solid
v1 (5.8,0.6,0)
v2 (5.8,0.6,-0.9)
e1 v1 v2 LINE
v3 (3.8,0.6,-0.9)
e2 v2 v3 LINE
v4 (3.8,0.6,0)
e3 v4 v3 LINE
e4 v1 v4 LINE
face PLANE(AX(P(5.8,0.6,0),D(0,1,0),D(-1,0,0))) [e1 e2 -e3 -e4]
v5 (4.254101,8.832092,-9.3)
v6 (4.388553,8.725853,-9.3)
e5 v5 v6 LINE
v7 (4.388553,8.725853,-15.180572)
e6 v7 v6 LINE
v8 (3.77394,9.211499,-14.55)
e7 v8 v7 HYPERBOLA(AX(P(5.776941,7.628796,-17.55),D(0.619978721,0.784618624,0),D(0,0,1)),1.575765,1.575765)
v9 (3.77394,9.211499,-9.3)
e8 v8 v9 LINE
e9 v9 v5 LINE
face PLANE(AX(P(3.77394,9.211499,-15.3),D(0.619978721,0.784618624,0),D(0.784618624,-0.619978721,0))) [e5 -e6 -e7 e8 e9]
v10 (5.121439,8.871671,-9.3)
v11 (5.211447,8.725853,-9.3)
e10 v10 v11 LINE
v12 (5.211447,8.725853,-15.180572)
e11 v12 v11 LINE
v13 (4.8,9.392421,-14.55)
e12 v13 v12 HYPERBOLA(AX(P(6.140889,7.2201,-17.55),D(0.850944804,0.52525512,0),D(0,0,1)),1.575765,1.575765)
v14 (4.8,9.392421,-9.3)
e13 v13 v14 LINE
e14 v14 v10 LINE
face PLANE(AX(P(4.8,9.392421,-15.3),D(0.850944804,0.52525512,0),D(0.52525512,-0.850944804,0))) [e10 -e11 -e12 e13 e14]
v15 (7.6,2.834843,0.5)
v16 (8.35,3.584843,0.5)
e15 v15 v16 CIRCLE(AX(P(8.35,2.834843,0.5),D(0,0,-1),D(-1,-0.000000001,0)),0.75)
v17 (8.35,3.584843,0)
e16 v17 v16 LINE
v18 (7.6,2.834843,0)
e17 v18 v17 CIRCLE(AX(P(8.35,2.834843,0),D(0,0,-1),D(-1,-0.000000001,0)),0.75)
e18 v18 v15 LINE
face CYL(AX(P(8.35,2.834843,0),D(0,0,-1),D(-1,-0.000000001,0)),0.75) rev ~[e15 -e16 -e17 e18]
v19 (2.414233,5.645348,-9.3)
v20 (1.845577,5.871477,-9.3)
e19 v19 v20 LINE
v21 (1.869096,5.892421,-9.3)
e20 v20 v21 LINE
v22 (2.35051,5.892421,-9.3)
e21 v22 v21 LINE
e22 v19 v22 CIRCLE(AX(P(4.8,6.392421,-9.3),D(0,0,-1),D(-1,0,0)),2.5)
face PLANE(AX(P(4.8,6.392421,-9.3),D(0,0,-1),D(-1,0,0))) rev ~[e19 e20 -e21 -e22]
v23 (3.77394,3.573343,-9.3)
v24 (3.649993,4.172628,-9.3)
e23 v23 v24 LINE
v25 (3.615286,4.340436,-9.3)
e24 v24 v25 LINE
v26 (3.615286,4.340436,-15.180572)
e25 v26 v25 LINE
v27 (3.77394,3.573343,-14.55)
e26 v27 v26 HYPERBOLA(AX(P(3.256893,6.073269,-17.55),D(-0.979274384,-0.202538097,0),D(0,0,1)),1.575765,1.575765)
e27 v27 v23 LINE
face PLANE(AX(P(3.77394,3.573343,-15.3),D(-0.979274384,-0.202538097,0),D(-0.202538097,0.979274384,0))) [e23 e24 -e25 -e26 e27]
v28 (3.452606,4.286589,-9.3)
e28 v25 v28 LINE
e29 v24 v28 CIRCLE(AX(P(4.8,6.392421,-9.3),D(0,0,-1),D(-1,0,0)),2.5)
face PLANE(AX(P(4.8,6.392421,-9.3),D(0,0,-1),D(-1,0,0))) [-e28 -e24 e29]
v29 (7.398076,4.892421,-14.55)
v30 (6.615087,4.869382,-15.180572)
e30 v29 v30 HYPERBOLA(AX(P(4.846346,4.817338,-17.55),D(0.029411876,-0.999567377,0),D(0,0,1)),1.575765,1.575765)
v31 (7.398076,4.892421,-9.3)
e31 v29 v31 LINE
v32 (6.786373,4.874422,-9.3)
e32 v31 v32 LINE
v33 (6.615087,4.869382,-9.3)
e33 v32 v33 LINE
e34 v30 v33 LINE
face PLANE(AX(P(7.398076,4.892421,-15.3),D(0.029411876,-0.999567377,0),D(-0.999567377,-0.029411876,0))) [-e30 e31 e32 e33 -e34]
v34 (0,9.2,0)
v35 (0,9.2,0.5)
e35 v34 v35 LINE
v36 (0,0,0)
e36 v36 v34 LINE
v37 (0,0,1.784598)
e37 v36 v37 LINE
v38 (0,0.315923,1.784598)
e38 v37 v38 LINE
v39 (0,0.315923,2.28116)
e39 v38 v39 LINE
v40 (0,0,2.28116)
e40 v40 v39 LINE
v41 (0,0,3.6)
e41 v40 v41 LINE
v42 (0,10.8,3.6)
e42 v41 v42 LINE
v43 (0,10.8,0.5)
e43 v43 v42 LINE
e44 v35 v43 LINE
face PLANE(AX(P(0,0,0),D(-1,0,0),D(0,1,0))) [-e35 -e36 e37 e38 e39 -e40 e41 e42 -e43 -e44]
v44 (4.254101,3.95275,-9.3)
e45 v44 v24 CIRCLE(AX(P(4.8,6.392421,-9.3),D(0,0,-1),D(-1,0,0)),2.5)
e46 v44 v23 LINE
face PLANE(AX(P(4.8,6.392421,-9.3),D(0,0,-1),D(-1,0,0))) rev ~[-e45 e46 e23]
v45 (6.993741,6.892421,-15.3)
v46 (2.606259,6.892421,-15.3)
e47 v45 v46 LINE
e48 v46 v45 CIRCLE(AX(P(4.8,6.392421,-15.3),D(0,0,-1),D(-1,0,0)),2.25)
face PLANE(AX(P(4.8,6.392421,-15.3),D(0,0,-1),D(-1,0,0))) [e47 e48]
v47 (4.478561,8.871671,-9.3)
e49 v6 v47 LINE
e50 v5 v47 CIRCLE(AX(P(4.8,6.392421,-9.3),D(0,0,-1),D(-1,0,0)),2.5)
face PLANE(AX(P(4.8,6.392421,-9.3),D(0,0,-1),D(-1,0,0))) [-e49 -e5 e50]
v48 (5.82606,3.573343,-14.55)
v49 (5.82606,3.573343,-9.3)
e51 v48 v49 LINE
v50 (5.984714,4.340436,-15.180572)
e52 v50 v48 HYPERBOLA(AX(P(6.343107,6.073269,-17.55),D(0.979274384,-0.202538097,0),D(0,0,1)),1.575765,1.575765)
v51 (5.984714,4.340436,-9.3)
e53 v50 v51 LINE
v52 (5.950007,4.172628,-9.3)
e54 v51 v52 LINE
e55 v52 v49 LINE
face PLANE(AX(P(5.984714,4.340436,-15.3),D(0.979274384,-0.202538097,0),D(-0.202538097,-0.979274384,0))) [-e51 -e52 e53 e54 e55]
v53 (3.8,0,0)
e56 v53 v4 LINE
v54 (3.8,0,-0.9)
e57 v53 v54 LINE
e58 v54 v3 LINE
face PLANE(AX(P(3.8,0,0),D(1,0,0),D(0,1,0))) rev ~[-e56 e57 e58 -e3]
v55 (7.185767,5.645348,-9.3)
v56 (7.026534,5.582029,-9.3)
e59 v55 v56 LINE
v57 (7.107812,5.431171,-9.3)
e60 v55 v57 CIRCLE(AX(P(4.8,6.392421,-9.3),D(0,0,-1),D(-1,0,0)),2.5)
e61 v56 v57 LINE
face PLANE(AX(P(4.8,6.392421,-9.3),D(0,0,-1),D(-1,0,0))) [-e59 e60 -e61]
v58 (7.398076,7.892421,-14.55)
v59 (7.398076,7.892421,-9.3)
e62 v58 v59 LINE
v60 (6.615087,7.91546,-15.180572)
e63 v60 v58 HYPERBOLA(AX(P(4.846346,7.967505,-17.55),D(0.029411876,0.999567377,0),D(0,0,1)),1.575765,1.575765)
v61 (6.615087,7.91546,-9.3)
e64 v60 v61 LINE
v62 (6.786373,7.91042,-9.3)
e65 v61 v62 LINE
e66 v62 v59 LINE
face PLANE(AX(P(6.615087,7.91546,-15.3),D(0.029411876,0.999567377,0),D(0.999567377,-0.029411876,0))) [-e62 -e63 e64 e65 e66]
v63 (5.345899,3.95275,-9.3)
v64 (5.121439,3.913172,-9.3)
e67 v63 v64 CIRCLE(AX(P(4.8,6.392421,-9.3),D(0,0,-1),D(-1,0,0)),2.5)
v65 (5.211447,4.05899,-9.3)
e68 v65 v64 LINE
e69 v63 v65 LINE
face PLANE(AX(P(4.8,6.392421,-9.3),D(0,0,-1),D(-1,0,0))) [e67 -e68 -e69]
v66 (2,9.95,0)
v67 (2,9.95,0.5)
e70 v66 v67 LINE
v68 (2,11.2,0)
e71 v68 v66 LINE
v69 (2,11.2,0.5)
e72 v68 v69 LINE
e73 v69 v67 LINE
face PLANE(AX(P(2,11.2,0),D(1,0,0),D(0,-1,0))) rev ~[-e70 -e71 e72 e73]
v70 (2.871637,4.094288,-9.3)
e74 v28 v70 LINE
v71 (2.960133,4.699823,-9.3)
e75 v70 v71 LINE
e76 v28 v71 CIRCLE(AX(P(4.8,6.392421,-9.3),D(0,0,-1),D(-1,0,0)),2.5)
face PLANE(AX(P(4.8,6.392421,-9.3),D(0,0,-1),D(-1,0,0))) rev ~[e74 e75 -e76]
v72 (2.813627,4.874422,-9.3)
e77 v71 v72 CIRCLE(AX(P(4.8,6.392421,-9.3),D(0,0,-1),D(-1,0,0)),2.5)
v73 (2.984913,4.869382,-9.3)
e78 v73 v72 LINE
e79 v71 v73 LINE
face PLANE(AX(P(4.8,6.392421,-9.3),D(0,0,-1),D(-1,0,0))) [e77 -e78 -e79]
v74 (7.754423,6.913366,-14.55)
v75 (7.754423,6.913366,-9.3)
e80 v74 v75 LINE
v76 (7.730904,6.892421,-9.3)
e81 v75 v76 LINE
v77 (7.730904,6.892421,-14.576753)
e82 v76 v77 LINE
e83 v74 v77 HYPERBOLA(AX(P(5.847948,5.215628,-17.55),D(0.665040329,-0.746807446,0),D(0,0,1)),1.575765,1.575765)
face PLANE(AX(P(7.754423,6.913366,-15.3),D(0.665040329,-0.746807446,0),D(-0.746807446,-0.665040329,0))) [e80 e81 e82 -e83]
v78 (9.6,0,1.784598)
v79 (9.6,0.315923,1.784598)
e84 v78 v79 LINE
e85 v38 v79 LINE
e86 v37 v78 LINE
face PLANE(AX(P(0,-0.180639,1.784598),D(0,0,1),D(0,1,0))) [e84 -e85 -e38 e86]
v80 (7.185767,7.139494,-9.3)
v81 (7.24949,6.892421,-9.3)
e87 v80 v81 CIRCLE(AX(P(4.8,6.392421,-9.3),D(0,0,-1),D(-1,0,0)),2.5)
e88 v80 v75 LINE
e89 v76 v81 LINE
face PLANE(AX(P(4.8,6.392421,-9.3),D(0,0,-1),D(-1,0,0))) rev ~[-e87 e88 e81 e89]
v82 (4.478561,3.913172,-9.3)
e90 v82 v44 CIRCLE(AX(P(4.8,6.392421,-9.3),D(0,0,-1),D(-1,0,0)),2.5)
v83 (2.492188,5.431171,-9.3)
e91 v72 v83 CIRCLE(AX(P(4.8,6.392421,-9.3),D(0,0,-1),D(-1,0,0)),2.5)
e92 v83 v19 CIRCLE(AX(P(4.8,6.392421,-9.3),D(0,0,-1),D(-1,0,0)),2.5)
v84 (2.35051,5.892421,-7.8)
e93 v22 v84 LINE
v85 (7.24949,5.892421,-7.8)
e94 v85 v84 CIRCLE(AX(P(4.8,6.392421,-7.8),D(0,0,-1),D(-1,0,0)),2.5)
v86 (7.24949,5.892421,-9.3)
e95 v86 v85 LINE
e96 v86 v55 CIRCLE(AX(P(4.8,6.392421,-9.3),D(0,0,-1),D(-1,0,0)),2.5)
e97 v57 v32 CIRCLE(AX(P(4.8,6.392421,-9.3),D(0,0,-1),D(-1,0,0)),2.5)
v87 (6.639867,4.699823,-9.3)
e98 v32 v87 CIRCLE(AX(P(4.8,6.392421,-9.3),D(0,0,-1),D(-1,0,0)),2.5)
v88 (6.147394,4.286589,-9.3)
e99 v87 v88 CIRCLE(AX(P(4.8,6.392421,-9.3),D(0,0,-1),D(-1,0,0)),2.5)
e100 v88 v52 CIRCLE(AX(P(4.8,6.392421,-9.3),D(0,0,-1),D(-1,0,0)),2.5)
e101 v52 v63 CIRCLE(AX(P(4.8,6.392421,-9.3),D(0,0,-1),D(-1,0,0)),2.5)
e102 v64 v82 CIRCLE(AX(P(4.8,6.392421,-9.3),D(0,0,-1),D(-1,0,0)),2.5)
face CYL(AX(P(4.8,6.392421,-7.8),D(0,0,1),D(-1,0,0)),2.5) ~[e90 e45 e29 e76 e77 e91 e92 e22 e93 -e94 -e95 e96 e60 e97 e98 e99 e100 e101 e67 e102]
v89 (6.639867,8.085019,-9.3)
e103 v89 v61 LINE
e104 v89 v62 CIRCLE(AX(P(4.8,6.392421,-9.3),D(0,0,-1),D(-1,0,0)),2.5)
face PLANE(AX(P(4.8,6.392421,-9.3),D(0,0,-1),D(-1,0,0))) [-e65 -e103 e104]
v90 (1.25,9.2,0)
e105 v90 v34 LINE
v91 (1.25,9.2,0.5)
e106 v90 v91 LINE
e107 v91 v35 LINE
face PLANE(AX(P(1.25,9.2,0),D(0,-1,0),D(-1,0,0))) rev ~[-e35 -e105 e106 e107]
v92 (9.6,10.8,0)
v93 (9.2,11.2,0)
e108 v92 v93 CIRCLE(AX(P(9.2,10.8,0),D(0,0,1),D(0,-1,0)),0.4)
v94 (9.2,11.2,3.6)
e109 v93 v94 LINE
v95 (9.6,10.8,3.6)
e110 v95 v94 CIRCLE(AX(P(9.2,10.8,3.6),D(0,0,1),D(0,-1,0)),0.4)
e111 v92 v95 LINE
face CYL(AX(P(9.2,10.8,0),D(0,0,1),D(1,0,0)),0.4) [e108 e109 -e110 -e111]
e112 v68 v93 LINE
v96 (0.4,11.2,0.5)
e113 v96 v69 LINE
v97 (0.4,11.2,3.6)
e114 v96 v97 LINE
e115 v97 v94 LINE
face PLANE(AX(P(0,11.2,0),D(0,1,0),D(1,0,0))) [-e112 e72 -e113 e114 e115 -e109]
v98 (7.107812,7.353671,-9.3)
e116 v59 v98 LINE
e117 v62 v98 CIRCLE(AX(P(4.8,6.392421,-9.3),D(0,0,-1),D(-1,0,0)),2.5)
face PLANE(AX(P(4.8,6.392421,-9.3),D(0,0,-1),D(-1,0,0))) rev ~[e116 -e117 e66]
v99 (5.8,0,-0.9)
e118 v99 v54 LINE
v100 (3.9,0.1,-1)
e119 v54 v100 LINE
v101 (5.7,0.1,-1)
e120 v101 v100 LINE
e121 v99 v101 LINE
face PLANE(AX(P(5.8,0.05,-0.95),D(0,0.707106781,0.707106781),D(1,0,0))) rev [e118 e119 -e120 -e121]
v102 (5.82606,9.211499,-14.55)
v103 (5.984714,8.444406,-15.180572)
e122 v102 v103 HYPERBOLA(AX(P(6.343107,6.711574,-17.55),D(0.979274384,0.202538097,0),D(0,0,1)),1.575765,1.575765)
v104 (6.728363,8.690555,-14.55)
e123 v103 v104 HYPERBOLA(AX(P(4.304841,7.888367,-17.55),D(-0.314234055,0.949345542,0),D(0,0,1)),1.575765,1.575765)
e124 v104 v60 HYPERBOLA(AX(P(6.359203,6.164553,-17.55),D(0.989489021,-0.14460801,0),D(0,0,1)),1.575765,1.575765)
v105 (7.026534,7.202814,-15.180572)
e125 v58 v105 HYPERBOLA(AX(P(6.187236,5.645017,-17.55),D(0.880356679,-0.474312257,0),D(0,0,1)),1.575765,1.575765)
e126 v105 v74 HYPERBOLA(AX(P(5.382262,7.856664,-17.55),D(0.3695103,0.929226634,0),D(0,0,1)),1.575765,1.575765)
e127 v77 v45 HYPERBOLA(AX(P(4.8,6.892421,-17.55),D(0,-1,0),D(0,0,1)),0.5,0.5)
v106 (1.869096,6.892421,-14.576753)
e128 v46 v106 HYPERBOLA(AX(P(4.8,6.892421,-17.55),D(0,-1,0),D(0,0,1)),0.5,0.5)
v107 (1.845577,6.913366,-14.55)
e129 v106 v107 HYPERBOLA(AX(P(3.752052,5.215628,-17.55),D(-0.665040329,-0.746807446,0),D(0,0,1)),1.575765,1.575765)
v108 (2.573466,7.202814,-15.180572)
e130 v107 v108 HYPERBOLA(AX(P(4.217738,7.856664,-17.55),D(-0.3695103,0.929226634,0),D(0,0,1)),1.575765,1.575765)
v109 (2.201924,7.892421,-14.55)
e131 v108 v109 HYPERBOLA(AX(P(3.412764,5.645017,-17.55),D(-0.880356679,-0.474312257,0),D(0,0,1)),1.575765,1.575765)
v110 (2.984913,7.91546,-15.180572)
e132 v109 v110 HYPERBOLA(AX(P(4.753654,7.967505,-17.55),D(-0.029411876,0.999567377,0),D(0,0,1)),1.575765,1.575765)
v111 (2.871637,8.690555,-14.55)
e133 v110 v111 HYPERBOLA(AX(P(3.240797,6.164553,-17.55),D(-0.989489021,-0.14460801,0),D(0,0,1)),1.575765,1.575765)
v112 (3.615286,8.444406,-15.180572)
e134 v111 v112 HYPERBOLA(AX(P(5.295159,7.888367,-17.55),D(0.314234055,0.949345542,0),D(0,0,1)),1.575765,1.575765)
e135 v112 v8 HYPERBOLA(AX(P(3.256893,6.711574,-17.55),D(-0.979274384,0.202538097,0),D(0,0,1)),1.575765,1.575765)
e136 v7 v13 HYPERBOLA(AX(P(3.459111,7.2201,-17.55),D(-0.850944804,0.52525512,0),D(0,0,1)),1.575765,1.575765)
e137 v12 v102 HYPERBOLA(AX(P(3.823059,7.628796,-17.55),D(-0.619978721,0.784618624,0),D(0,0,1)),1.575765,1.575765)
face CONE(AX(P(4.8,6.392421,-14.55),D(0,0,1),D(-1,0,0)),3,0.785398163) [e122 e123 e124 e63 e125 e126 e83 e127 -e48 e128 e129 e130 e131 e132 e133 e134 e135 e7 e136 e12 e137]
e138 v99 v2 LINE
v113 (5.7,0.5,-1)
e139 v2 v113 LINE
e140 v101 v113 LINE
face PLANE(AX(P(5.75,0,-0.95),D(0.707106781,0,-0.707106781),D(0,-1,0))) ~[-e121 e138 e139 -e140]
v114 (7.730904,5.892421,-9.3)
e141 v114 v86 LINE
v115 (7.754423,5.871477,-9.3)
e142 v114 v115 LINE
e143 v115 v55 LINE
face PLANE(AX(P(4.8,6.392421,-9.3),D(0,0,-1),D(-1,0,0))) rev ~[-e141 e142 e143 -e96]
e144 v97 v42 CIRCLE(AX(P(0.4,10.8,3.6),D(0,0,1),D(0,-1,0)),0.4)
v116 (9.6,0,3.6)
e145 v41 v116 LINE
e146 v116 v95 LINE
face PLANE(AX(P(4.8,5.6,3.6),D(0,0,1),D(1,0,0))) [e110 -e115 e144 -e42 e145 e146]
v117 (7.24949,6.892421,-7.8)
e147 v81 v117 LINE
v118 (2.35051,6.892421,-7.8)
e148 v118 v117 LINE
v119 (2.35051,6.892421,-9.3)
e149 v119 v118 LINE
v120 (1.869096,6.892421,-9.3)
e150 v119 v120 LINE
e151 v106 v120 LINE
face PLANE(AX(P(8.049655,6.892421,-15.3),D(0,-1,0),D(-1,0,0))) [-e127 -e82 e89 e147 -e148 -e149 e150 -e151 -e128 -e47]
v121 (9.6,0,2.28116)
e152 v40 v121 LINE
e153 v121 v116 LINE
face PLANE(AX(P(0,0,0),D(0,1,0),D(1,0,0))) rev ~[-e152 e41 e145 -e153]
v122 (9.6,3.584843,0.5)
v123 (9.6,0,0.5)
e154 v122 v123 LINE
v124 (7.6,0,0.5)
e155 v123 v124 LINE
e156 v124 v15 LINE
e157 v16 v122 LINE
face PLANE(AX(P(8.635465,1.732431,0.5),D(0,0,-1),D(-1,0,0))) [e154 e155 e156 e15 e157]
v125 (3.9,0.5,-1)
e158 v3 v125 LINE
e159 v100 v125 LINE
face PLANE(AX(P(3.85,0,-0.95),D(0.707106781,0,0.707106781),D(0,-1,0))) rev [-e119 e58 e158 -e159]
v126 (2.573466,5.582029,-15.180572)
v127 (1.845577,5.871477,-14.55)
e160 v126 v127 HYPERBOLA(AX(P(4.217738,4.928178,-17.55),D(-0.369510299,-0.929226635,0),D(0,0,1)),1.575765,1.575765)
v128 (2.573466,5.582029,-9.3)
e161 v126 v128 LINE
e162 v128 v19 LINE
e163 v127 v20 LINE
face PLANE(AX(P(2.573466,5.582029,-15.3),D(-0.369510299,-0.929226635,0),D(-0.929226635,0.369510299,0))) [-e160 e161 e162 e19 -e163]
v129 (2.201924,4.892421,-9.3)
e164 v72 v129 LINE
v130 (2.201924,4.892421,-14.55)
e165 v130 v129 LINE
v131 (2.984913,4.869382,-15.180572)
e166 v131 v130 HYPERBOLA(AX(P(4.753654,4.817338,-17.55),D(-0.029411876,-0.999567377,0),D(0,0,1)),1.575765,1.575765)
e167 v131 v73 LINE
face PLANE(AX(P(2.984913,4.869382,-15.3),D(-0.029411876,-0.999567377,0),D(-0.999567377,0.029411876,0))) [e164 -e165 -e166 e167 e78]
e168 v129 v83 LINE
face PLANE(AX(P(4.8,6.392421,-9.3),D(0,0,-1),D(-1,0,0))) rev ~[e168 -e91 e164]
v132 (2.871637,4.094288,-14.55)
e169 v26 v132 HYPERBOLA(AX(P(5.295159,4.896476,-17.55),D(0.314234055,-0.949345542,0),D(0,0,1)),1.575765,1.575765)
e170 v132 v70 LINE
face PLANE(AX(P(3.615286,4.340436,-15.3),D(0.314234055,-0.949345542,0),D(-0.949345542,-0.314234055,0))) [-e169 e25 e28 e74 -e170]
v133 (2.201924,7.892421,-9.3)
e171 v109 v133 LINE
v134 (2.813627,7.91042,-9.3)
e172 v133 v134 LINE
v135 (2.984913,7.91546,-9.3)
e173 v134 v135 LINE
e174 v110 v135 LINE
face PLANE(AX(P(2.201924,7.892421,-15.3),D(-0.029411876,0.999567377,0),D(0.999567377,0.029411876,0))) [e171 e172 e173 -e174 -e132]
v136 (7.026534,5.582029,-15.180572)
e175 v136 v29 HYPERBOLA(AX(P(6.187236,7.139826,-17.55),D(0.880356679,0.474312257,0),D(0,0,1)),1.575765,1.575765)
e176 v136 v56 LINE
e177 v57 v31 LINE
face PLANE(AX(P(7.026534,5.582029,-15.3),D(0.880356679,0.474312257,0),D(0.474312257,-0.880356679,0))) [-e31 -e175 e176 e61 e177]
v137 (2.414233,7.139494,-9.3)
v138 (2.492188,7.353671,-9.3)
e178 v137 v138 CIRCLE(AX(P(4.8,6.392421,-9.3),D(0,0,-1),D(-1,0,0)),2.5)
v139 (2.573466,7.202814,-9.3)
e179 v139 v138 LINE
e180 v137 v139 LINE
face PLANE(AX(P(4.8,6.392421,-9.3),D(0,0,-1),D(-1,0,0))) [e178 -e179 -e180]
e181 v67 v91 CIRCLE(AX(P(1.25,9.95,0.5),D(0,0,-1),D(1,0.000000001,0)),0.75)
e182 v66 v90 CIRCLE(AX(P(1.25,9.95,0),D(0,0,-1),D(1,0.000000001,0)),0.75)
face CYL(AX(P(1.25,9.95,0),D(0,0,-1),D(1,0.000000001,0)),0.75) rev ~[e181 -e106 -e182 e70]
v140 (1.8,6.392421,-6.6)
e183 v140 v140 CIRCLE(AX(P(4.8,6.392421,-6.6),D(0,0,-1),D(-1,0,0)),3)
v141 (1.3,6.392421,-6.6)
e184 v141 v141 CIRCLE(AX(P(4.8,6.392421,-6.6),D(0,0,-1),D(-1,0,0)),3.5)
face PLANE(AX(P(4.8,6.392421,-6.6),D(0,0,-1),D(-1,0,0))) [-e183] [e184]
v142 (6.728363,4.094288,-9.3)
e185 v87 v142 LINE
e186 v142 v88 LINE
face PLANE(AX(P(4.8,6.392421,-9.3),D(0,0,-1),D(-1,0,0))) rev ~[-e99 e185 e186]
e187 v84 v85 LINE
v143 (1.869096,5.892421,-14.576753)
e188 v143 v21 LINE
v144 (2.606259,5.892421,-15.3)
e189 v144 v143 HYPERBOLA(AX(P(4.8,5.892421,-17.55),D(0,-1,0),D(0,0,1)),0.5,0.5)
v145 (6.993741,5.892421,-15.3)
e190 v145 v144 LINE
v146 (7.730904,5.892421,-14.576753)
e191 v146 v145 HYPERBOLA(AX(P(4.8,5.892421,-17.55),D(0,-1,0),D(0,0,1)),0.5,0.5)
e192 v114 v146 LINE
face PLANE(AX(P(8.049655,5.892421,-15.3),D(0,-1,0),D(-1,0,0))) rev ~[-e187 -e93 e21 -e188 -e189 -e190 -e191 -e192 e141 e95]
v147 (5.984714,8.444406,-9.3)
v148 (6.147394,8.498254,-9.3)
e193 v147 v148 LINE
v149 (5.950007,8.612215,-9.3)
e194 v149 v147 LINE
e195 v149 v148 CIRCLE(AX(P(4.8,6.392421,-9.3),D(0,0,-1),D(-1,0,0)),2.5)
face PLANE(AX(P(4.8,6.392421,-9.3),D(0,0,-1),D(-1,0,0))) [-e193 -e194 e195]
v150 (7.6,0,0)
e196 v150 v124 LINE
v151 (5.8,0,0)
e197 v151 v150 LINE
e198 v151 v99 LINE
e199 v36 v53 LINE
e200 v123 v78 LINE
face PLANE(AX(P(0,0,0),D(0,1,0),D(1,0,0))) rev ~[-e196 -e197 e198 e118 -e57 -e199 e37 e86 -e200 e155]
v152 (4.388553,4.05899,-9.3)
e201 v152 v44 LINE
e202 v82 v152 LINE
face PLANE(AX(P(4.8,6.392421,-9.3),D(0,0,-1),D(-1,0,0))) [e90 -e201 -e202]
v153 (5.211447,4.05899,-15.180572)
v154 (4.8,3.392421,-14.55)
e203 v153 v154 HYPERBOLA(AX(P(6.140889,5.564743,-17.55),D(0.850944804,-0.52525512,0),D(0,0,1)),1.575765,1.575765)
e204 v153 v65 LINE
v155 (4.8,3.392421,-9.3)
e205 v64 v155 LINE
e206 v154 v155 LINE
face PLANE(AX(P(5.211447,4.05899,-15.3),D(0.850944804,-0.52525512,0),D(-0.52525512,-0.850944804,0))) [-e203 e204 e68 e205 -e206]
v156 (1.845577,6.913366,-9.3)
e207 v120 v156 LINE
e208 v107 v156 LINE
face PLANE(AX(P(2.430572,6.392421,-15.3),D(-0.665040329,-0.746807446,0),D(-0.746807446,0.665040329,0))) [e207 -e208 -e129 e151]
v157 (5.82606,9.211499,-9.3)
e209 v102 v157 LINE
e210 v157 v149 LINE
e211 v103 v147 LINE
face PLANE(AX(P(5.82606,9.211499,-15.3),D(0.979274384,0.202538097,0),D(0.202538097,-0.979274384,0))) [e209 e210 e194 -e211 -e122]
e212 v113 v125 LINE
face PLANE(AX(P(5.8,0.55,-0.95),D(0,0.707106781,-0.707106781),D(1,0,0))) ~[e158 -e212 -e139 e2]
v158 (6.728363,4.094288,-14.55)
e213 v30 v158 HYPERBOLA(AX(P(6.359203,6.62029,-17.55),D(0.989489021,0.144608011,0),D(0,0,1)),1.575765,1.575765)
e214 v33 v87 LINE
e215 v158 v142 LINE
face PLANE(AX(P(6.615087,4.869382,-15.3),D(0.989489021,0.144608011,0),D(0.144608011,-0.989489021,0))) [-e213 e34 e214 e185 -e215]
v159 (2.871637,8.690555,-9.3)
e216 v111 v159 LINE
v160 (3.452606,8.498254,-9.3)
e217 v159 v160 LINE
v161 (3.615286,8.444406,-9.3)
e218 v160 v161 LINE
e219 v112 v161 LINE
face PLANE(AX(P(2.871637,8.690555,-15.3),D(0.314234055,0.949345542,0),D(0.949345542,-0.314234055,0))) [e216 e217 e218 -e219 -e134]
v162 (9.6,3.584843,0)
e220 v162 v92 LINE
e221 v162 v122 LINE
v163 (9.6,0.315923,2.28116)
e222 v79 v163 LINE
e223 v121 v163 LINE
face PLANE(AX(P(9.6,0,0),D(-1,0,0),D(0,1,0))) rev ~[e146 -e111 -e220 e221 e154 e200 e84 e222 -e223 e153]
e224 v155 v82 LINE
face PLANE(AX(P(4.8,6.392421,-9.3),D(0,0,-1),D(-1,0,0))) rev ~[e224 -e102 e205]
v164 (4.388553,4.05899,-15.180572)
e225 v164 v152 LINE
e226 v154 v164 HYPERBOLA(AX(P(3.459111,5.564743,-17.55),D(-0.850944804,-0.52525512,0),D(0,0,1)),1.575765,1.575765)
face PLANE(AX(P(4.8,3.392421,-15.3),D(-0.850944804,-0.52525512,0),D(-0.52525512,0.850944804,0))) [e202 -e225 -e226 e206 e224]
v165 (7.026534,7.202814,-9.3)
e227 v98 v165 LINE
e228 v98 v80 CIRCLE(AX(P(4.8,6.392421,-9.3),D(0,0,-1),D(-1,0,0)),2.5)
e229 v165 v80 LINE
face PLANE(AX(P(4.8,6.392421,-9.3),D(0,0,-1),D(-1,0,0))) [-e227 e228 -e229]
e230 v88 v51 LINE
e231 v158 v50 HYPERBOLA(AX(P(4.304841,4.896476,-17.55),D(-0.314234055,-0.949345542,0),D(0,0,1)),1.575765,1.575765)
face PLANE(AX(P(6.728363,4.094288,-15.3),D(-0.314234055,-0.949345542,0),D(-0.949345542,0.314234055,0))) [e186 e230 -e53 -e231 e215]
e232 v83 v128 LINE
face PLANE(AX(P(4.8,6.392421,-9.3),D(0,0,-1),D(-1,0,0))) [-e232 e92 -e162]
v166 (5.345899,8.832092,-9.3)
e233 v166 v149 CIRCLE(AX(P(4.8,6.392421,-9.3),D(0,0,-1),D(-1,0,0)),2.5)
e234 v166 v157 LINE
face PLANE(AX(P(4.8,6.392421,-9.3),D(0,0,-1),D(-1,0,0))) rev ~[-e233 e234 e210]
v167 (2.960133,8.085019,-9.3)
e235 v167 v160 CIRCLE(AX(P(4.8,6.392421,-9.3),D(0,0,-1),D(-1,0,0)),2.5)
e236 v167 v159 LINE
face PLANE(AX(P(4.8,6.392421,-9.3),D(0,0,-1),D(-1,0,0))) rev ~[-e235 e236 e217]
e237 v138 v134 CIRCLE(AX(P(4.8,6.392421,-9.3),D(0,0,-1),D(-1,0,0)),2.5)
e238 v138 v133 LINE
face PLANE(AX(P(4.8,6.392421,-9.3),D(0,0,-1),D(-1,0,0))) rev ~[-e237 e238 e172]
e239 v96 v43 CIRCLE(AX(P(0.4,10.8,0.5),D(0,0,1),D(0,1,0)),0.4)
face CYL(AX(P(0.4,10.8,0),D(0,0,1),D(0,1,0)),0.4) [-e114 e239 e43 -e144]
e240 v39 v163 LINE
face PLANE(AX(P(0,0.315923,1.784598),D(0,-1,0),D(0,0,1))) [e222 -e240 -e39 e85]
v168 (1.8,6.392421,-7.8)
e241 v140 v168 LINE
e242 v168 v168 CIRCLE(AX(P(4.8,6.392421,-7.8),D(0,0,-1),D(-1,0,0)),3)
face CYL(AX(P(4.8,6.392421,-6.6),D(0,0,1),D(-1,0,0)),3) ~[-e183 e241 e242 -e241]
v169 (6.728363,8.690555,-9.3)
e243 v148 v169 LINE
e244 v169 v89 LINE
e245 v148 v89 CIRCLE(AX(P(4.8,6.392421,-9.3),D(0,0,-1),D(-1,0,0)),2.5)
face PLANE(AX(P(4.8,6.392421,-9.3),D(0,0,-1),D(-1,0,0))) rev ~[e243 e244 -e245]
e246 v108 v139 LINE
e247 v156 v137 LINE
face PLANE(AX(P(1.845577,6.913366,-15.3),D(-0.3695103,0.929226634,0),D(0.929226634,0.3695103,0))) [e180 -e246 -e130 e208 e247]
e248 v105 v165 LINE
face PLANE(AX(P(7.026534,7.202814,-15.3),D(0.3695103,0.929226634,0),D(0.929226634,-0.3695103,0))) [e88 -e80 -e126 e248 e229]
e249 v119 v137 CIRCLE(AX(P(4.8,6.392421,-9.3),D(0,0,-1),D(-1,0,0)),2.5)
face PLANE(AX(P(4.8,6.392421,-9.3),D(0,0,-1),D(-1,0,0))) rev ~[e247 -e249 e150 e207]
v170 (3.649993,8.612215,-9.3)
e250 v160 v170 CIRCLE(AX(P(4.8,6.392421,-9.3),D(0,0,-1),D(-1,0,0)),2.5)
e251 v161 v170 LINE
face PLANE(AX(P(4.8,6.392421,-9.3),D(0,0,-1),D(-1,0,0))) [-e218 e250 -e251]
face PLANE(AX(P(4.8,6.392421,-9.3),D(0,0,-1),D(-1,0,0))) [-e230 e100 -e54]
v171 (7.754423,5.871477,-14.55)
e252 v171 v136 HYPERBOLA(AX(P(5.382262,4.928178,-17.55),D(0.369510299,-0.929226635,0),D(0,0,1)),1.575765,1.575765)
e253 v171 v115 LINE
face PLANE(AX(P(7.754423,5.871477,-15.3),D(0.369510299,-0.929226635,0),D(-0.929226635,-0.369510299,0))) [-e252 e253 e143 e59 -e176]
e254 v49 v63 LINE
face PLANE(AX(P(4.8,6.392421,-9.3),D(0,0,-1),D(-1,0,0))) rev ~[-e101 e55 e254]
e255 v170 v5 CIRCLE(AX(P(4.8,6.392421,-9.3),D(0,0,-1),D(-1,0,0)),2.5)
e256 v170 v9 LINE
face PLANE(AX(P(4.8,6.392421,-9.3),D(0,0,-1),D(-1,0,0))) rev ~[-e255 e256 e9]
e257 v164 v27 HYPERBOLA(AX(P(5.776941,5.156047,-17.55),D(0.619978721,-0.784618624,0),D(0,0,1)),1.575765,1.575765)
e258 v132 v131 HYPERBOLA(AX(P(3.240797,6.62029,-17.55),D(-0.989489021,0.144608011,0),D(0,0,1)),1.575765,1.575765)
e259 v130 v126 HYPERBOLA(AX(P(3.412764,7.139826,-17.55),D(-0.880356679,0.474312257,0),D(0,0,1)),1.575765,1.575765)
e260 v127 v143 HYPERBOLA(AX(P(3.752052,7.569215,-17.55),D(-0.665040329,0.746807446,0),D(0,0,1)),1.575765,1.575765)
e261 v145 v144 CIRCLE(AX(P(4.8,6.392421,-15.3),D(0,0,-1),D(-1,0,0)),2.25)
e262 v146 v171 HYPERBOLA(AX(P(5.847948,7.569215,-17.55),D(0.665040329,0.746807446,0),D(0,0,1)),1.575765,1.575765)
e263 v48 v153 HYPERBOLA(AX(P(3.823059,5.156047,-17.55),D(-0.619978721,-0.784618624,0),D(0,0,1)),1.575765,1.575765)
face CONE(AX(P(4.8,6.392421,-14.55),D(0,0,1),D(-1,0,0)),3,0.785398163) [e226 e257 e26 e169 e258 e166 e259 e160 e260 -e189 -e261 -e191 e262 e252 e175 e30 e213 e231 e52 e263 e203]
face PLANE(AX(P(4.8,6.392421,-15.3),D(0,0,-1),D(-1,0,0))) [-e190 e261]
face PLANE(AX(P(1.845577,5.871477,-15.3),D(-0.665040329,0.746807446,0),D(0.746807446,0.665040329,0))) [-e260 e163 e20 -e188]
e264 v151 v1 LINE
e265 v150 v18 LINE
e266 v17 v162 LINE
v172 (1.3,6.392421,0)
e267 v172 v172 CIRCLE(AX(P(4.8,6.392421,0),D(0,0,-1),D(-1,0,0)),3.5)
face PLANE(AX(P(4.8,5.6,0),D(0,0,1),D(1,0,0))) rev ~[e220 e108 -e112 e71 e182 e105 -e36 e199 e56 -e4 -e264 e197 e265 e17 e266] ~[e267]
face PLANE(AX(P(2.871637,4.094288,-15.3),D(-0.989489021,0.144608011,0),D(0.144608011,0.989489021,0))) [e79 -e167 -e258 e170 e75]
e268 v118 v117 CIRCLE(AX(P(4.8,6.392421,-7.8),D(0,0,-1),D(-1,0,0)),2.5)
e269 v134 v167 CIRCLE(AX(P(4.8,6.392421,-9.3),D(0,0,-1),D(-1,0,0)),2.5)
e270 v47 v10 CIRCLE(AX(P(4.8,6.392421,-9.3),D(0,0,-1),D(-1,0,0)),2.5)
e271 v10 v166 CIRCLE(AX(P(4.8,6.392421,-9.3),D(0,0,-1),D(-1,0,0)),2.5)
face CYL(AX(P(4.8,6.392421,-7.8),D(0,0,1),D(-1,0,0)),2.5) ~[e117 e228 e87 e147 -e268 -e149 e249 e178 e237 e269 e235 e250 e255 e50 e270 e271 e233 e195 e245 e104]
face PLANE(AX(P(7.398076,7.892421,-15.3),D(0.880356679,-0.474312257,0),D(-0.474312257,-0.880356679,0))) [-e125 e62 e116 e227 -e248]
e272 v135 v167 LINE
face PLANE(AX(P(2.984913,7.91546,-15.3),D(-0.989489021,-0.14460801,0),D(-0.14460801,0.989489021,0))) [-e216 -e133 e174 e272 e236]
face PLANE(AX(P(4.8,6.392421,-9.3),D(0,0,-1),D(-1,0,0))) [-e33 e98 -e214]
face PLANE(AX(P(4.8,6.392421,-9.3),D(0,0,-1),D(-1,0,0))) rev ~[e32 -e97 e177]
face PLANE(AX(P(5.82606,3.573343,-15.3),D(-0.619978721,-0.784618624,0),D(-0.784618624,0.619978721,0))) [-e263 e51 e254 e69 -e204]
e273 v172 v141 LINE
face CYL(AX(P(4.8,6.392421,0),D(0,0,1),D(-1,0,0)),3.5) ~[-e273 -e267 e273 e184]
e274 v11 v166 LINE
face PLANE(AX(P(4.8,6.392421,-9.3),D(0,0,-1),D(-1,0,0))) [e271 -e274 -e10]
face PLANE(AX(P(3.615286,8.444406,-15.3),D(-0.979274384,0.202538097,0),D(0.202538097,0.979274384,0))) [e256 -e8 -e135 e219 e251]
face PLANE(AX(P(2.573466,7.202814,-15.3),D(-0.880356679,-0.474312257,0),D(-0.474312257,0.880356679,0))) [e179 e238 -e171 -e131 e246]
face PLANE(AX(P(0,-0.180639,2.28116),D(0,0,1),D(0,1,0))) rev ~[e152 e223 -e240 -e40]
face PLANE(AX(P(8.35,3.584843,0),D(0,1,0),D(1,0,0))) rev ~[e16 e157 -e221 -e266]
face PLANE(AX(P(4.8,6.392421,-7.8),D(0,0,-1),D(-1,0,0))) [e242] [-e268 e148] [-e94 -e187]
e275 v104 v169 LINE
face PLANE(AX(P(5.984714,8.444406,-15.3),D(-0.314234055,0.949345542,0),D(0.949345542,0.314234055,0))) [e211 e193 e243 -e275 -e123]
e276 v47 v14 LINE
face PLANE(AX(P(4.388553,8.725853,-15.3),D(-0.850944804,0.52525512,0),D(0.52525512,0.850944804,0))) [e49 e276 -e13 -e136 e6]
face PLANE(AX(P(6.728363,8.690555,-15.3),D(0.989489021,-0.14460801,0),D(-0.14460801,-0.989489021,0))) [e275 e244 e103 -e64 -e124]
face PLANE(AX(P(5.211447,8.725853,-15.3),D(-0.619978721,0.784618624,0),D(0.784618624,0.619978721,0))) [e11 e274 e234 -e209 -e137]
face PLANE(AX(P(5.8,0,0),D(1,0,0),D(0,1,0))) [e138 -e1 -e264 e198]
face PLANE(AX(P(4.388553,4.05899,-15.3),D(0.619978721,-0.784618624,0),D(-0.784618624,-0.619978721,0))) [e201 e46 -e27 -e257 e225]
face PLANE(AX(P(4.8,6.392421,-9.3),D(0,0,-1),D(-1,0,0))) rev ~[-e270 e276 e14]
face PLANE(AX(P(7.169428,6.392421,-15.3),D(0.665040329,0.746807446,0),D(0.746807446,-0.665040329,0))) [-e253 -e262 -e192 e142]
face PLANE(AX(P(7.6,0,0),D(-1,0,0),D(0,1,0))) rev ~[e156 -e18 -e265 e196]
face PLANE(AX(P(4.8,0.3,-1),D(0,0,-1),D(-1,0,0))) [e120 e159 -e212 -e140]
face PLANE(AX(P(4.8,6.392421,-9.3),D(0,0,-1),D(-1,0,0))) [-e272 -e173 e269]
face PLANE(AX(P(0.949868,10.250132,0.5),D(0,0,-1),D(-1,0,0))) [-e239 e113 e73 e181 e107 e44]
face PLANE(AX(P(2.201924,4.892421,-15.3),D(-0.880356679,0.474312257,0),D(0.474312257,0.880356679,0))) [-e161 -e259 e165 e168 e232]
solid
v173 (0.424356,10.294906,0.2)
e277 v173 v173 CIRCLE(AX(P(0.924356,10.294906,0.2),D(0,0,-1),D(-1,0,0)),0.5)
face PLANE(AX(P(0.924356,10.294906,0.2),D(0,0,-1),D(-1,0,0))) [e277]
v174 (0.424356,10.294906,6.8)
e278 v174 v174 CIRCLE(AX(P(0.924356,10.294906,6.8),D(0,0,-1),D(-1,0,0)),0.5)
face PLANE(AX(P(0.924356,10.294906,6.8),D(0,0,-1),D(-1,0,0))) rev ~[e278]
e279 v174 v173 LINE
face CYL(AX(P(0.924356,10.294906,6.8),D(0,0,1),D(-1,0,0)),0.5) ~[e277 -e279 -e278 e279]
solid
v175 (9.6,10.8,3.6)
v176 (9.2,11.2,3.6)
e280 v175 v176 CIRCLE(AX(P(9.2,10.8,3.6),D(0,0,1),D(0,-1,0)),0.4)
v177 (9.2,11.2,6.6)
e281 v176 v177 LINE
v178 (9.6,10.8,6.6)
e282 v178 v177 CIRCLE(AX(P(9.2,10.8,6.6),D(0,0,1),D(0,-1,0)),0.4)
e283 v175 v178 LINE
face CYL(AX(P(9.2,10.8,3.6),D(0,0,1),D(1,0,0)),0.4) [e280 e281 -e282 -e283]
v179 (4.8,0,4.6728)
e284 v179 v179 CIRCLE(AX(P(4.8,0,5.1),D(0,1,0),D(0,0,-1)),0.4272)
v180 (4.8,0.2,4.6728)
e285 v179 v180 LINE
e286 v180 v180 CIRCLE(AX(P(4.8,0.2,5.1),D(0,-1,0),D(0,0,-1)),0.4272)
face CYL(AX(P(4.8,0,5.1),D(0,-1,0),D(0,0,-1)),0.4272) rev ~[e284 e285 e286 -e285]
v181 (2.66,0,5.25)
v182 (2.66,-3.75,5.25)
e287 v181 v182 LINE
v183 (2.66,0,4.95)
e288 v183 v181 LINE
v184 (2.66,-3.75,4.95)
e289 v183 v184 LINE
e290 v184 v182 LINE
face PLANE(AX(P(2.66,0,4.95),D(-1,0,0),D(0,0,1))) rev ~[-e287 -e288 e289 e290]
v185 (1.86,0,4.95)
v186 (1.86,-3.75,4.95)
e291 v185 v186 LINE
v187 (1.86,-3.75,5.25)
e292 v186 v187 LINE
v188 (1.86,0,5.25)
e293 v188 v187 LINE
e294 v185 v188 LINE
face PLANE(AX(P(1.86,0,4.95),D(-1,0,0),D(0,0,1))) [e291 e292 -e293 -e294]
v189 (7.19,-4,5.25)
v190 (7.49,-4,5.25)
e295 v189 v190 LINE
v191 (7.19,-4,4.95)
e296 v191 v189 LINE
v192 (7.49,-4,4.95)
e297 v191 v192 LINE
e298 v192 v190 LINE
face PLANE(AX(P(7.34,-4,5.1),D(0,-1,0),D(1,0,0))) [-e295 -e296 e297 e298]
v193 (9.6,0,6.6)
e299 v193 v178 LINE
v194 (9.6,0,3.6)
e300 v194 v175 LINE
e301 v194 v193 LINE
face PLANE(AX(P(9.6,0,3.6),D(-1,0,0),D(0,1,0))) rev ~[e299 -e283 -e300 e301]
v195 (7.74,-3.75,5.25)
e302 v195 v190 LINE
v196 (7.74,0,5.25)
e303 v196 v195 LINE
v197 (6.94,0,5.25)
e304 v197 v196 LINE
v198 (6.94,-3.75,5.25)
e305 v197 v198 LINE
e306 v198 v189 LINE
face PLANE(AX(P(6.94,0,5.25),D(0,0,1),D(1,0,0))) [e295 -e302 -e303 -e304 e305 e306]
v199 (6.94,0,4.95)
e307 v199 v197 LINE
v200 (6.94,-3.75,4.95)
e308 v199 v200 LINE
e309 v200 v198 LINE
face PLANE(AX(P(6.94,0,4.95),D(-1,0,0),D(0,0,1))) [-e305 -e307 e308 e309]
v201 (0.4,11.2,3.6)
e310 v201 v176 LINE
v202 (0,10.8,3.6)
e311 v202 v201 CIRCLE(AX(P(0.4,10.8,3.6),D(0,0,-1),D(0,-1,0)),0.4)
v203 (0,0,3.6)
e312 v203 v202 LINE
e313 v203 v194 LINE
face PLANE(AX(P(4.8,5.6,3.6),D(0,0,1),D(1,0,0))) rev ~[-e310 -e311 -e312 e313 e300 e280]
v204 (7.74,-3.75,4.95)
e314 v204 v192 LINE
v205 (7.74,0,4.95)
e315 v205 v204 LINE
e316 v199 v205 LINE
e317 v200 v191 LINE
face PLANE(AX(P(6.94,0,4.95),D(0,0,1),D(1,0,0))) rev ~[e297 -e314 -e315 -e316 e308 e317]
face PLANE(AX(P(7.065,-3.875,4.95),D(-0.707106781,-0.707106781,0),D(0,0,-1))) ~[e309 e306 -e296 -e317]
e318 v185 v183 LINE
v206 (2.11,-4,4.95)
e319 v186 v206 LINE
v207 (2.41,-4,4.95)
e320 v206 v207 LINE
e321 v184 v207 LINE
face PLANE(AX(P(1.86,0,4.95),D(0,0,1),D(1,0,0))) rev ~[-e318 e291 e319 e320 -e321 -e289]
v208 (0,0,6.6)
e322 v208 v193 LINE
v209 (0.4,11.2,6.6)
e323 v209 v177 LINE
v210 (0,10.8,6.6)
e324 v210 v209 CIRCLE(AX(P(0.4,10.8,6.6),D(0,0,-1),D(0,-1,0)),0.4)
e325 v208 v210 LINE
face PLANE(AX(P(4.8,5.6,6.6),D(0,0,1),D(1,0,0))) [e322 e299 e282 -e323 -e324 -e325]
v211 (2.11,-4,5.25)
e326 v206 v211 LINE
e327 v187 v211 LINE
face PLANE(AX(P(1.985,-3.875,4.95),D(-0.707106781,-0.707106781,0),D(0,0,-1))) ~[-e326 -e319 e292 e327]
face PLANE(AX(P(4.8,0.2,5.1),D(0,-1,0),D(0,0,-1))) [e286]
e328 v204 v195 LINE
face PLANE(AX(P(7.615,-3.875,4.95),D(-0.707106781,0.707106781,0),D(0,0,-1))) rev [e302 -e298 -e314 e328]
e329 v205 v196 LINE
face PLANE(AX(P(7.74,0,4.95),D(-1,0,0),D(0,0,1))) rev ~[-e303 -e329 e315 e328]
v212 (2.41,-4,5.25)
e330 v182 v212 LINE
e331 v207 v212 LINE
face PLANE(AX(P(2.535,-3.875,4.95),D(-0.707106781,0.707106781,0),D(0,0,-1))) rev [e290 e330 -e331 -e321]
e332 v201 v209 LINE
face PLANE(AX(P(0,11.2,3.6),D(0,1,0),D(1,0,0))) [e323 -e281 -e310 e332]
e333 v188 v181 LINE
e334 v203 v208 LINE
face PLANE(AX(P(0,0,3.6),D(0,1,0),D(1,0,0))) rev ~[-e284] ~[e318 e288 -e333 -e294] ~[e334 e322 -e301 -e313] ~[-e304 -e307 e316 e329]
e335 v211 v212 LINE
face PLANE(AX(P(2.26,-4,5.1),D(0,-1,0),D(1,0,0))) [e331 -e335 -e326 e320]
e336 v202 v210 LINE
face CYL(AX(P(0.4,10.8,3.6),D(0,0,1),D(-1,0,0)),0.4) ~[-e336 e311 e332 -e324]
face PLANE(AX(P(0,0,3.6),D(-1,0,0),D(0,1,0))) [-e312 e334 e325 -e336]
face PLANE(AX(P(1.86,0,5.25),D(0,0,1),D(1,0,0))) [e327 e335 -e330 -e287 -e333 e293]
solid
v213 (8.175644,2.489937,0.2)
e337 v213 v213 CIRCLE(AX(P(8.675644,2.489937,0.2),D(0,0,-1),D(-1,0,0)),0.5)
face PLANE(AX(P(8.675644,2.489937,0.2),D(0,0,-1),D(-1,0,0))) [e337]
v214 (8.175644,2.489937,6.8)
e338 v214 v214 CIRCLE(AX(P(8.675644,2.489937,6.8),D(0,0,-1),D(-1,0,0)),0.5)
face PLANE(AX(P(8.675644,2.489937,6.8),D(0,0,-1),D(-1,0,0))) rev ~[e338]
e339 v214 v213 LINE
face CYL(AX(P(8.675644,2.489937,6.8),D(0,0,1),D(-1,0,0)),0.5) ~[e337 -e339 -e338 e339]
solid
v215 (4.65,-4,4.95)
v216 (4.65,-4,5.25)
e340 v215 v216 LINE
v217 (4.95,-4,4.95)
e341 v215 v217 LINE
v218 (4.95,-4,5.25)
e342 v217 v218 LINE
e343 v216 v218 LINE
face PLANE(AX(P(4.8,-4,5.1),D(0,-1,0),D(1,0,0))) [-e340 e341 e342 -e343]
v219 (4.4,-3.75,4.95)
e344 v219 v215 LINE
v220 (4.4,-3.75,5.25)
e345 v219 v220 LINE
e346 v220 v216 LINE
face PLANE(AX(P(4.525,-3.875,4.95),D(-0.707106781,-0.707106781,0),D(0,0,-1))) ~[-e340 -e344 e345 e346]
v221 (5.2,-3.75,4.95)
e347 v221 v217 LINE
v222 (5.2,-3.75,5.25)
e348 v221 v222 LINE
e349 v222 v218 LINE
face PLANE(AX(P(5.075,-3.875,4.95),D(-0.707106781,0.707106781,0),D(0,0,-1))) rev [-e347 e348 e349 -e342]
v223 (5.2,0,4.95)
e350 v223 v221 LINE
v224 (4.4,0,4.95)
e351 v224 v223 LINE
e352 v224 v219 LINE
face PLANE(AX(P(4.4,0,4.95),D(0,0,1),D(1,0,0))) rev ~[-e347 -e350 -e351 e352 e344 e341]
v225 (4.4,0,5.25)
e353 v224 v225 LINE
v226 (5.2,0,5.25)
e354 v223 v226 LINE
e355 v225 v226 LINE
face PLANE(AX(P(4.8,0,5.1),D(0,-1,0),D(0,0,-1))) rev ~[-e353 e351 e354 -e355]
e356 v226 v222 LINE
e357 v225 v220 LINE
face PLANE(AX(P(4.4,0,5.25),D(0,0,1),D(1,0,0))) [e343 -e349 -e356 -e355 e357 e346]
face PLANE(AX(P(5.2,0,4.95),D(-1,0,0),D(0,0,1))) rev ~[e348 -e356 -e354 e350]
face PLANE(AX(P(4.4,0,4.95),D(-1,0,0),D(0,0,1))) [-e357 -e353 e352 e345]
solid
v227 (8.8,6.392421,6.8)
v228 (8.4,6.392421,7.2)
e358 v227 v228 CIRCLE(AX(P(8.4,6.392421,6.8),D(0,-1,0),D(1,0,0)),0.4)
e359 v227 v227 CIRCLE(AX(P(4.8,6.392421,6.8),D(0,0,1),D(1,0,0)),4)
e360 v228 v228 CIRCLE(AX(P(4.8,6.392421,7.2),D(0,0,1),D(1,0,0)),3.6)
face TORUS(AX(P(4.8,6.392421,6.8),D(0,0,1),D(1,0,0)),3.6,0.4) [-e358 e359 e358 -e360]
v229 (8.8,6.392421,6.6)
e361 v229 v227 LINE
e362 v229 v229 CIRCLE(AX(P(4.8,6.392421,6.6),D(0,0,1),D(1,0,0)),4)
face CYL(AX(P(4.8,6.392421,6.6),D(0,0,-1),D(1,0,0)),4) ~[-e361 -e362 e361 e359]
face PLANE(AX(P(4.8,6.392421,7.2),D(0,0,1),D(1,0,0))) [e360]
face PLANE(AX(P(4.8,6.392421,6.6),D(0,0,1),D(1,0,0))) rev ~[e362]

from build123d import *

# Parameters (mm, degrees)
SKETCH1_W                      = 9.6
SKETCH1_H                      = 11.2
UPPER_BODY_EXTRUDE_DEPTH       = 3.6
SKETCH13_W                     = 9.6
SKETCH13_H                     = 11.2
LOWER_BODY_EXTRUDE_DEPTH       = 3
SKETCH2_R                      = 4
BOTTOM_DOME_EXTRUDE_DEPTH      = 0.6
DOME_FILLET_R                  = 0.4
SKETCH3_R                      = 3.5
THREADED_SECTION_EXTRUDE_DEPTH = 6.6
SKETCH4_R                      = 3
STRAIN_RELIEF_EXTRUDE_DEPTH    = 1.2
SKETCH10_R                     = 2.5
ACTUATOR_SHAFT_EXTRUDE_DEPTH   = 1.5
SKETCH11_R                     = 3
SLINED_SECTION_EXTRUDE_DEPTH   = 6
SHAFT_END_CHAMFER_SIZE         = 0.75
SKETCH5_R                      = 3.244987866
SPLINE_CUT_DEPTH               = 6
SHAFT_SLOT_XUT_REACH           = 28.904
SKETCH12_W                     = 6.542928606
SKETCH12_H                     = 1
SKETCH14_W                     = 0.8
SKETCH14_H                     = 0.3
PIN_EXTRUDE_DEPTH              = 4
PIN_TIP_FILLET_SIZE            = 0.25
UPPER_BODY_EDGE_FILLET_R       = 0.4
LOWER_BODY_EDGE_FILLET_R       = 0.4
SKETCH15_W                     = 0.496561546
SKETCH15_H                     = 0.496561546
MOUNTING_FACE_SLOT_CUT_DEPTH   = 22.252999788
SKETCH17_W                     = 2
SKETCH17_H                     = 0.6
LOCATING_PIN_EXTRUDE_DEPTH     = 1
LOCATING_PIN_CHAMFER_SIZE      = 0.1
BODY_RIVET_RECESS_CUT_DEPTH    = 0.5
RIVET_EXTRUDE_DEPTH            = 0.3
RIVET_EXTRUDE_DEPTH_BACK       = 6.3
SKETCH18_R                     = 0.5
RIVET_EXTRUDE_2_DEPTH          = 0.3
RIVET_EXTRUDE_2_DEPTH_BACK     = 6.3
SKETCH22_R                     = 0.427200187
ALIGNMENT_CENTRE_PIN_CUT_DEPTH = 0.2


with BuildPart() as part:
    # Sketch1 → Upper Body Extrude (new body)
    with BuildSketch(Plane.XY):
        with Locations((4.8, 5.6)):
            Rectangle(SKETCH1_W, SKETCH1_H)
    extrude(amount=UPPER_BODY_EXTRUDE_DEPTH)

    # Sketch3 → Threaded Section Extrude (add)
    with BuildSketch(Plane(origin=(0, 0, 0), x_dir=(-1, 0, 0), z_dir=(0, 0, -1))):
        with Locations((-4.8, 6.392421353)):
            Circle(SKETCH3_R)
    extrude(amount=THREADED_SECTION_EXTRUDE_DEPTH)

    # Sketch4 → Strain Relief Extrude (add)
    with BuildSketch(Plane(origin=(0, 0, -6.6), x_dir=(-1, 0, 0), z_dir=(0, 0, -1))):
        with Locations((-4.8, 6.392421353)):
            Circle(SKETCH4_R)
    extrude(amount=STRAIN_RELIEF_EXTRUDE_DEPTH)

    # Sketch10 → Actuator Shaft Extrude (add)
    with BuildSketch(Plane(origin=(0, 0, -7.8), x_dir=(-1, 0, 0), z_dir=(0, 0, -1))):
        with Locations((-4.8, 6.392421353)):
            Circle(SKETCH10_R)
    extrude(amount=ACTUATOR_SHAFT_EXTRUDE_DEPTH)

    # Sketch11 → Slined Section Extrude (add)
    with BuildSketch(Plane(origin=(0, 0, -9.3), x_dir=(-1, 0, 0), z_dir=(0, 0, -1))):
        with Locations((-4.8, 6.392421353)):
            Circle(SKETCH11_R)
    extrude(amount=SLINED_SECTION_EXTRUDE_DEPTH)

    # Shaft End Chamfer
    shaft_end_chamfer_edges = [part.edges().sort_by_distance(p)[0] for p in [
        (7.8, 6.392421353, -15.3),
    ]]
    chamfer(shaft_end_chamfer_edges, length=SHAFT_END_CHAMFER_SIZE)

    # Sketch5 → Spline CUt (cut)
    with BuildSketch(Plane(origin=(0, 0, -15.3), x_dir=(-1, 0, 0), z_dir=(0, 0, -1))):
        with Locations((-4.8, 6.392421353)):
            Circle(SKETCH5_R)
        Polygon((-4.8, 9.392421353), (-5.211446902, 8.72585269), (-5.82606043, 9.211499216), (-5.984714138, 8.444406433), (-6.728362829, 8.690554683), (-6.615087364, 7.915460491), (-7.398076211, 7.892421353), (-7.026534266, 7.202813552), (-7.754423259, 6.913365886), (-7.169428276, 6.392421353), (-7.754423259, 5.87147682), (-7.026534266, 5.582029155), (-7.398076211, 4.892421353), (-6.615087364, 4.869382215), (-6.728362829, 4.094288024), (-5.984714138, 4.340436274), (-5.82606043, 3.573343491), (-5.211446902, 4.058990017), (-4.8, 3.392421353), (-4.388553098, 4.058990017), (-3.77393957, 3.573343491), (-3.615285862, 4.340436274), (-2.871637171, 4.094288024), (-2.984912636, 4.869382215), (-2.201923789, 4.892421353), (-2.573465734, 5.582029155), (-1.845576741, 5.87147682), (-2.430571724, 6.392421353), (-1.845576741, 6.913365886), (-2.573465734, 7.202813552), (-2.201923789, 7.892421353), (-2.984912636, 7.915460491), (-2.871637171, 8.690554683), (-3.615285862, 8.444406433), (-3.77393957, 9.211499216), (-4.388553098, 8.72585269), align=None, mode=Mode.SUBTRACT)
    extrude(amount=-SPLINE_CUT_DEPTH, mode=Mode.SUBTRACT)

    # Shaft Slot Xut: up to this face of the body (flat: up to its plane)
    shaft_slot_xut_end = Plane(part.part.faces().sort_by_distance((7.715147186, 6.392421353, -7.8))[0])
    # Sketch12 → Shaft Slot Xut (cut, up to the picked face)
    with BuildSketch(Plane(origin=(0, 0, -15.3), x_dir=(-1, 0, 0), z_dir=(0, 0, -1)), mode=Mode.PRIVATE) as shaft_slot_xut_sk1:
        with Locations((-4.778190238, 6.392421353)):
            Rectangle(SKETCH12_W, SKETCH12_H)
    shaft_slot_xut_tool1 = split(extrude(shaft_slot_xut_sk1.sketch, amount=-SHAFT_SLOT_XUT_REACH, mode=Mode.PRIVATE), bisect_by=shaft_slot_xut_end, keep=Keep.BOTH, mode=Mode.PRIVATE)
    add(shaft_slot_xut_tool1.solids().sort_by(Axis((4.77819, 6.392421, -15.3), (0, 0, 1)))[0], mode=Mode.SUBTRACT)

    # Upper Body Edge Fillet
    upper_body_edge_fillet_edges = [part.edges().sort_by_distance(p)[0] for p in [
        (0, 11.2, 1.8),
        (9.6, 11.2, 1.8),
    ]]
    fillet(upper_body_edge_fillet_edges, radius=UPPER_BODY_EDGE_FILLET_R)

    # Sketch15 → Mounting Face Slot Cut (cut, through all)
    with BuildSketch(Plane.ZY):
        with Locations((2.032878938, 0.06764173)):
            Rectangle(SKETCH15_W, SKETCH15_H)
    extrude(amount=-MOUNTING_FACE_SLOT_CUT_DEPTH, mode=Mode.SUBTRACT)

    # Sketch17 → Locating Pin Extrude (add)
    with BuildSketch(Plane(origin=(0, 0, 0), x_dir=(-1, 0, 0), z_dir=(0, 0, -1))):
        with Locations((-4.8, 0.3)):
            Rectangle(SKETCH17_W, SKETCH17_H)
    extrude(amount=LOCATING_PIN_EXTRUDE_DEPTH)

    # Locating Pin Chamfer
    locating_pin_chamfer_edges = [part.edges().sort_by_distance(p)[0] for p in [
        (5.8, 0.3, -1),
        (4.8, 0, -1),
        (3.8, 0.3, -1),
        (4.8, 0.6, -1),
    ]]
    chamfer(locating_pin_chamfer_edges, length=LOCATING_PIN_CHAMFER_SIZE)

    # Sketch20 → Body Rivet Recess Cut (cut)
    with BuildSketch(Plane(origin=(0, 0, 0), x_dir=(-1, 0, 0), z_dir=(0, 0, -1))):
        with BuildLine():
            Line((-2, 11.2), (-2, 9.95))
            ThreePointArc((-2, 9.95), (-1.780330086, 9.419669914), (-1.25, 9.2))
            Line((-1.25, 9.2), (0, 9.2))
            Line((0, 9.2), (0, 11.2))
            Line((0, 11.2), (-2, 11.2))
        make_face()
        with BuildLine():
            Line((-7.6, 1.584842707), (-7.6, 2.834842707))
            ThreePointArc((-7.6, 2.834842707), (-7.819669914, 3.365172793), (-8.35, 3.584842707))
            Line((-8.35, 3.584842707), (-9.6, 3.584842707))
            Line((-9.6, 3.584842707), (-9.6, 0))
            Line((-9.6, 0), (-7.6, 0))
            Line((-7.6, 0), (-7.6, 1.584842707))
        make_face()
    extrude(amount=-BODY_RIVET_RECESS_CUT_DEPTH, mode=Mode.SUBTRACT)


with BuildPart() as body_2:
    # Sketch13 → Lower Body Extrude (new body)
    with BuildSketch(Plane.XY.offset(3.6)):
        with Locations((4.8, 5.6)):
            Rectangle(SKETCH13_W, SKETCH13_H)
    extrude(amount=LOWER_BODY_EXTRUDE_DEPTH)

    # Sketch14 → Pin Extrude (add)
    with BuildSketch(Plane.XZ):
        with Locations((4.8, 5.1)):
            Rectangle(SKETCH14_W, SKETCH14_H)
        with Locations((7.34, 5.1)):
            Rectangle(SKETCH14_W, SKETCH14_H)
        with Locations((2.26, 5.1)):
            Rectangle(SKETCH14_W, SKETCH14_H)
    extrude(amount=PIN_EXTRUDE_DEPTH)

    # Pin Tip FIllet
    pin_tip_fillet_edges = [body_2.edges().sort_by_distance(p)[0] for p in [
        (4.4, -4, 5.1),
        (5.2, -4, 5.1),
        (7.74, -4, 5.1),
        (6.94, -4, 5.1),
        (2.66, -4, 5.1),
        (1.86, -4, 5.1),
    ]]
    chamfer(pin_tip_fillet_edges, length=PIN_TIP_FILLET_SIZE)

    # Lower Body Edge Fillet
    lower_body_edge_fillet_edges = [body_2.edges().sort_by_distance(p)[0] for p in [
        (0, 11.2, 5.1),
        (9.6, 11.2, 5.1),
    ]]
    fillet(lower_body_edge_fillet_edges, radius=LOWER_BODY_EDGE_FILLET_R)

    # Sketch22 → Alignment Centre-Pin Cut (cut)
    with BuildSketch(Plane.XZ):
        with Locations(Location((4.8, 5.1, 0), (0, 0, 270))):
            Circle(SKETCH22_R)
    extrude(amount=-ALIGNMENT_CENTRE_PIN_CUT_DEPTH, mode=Mode.SUBTRACT)


with BuildPart() as body_3:
    # Sketch2 → Bottom Dome Extrude (new body)
    with BuildSketch(Plane.XY.offset(6.6)):
        with Locations((4.8, 6.392421353)):
            Circle(SKETCH2_R)
    extrude(amount=BOTTOM_DOME_EXTRUDE_DEPTH)

    # Dome Fillet
    dome_fillet_edges = [body_3.edges().sort_by_distance(p)[0] for p in [
        (0.8, 6.392421353, 7.2),
    ]]
    fillet(dome_fillet_edges, radius=DOME_FILLET_R)


with BuildPart() as body_4:
    # Sketch18 → Rivet Extrude (new, two sides: drawn at the far end of the back side and taken through both)
    with BuildSketch(Plane(origin=(0, 0, 0.5), x_dir=(-1, 0, 0), z_dir=(0, 0, -1)).offset(-RIVET_EXTRUDE_DEPTH_BACK)):
        with Locations((-0.92435637, 10.294906004)):
            Circle(SKETCH18_R)
    extrude(amount=RIVET_EXTRUDE_DEPTH + RIVET_EXTRUDE_DEPTH_BACK)


with BuildPart() as body_5:
    # Sketch18 → Rivet Extrude 2 (new, two sides: drawn at the far end of the back side and taken through both)
    with BuildSketch(Plane(origin=(0, 0, 0.5), x_dir=(-1, 0, 0), z_dir=(0, 0, -1)).offset(-RIVET_EXTRUDE_2_DEPTH_BACK)):
        with Locations((-8.67564363, 2.489936702)):
            Circle(SKETCH18_R)
    extrude(amount=RIVET_EXTRUDE_2_DEPTH + RIVET_EXTRUDE_2_DEPTH_BACK)


with BuildPart() as alignment_centre_pin_cut_piece_1:
    # of the separate pieces the step leaves, piece 1, a body of its own (alignment_centre_pin_cut_pieces)
    add(body_2.part.solids().sort_by_distance((9.6, 10.8, 3.6))[0])


with BuildPart() as alignment_centre_pin_cut_piece_2:
    # of the separate pieces the step leaves, piece 2, a body of its own (alignment_centre_pin_cut_pieces)
    add(body_2.part.solids().sort_by_distance((4.4, -3.75, 4.95))[0])


solid = Compound([part.part, body_3.part, body_4.part, body_5.part, alignment_centre_pin_cut_piece_1.part, alignment_centre_pin_cut_piece_2.part])
